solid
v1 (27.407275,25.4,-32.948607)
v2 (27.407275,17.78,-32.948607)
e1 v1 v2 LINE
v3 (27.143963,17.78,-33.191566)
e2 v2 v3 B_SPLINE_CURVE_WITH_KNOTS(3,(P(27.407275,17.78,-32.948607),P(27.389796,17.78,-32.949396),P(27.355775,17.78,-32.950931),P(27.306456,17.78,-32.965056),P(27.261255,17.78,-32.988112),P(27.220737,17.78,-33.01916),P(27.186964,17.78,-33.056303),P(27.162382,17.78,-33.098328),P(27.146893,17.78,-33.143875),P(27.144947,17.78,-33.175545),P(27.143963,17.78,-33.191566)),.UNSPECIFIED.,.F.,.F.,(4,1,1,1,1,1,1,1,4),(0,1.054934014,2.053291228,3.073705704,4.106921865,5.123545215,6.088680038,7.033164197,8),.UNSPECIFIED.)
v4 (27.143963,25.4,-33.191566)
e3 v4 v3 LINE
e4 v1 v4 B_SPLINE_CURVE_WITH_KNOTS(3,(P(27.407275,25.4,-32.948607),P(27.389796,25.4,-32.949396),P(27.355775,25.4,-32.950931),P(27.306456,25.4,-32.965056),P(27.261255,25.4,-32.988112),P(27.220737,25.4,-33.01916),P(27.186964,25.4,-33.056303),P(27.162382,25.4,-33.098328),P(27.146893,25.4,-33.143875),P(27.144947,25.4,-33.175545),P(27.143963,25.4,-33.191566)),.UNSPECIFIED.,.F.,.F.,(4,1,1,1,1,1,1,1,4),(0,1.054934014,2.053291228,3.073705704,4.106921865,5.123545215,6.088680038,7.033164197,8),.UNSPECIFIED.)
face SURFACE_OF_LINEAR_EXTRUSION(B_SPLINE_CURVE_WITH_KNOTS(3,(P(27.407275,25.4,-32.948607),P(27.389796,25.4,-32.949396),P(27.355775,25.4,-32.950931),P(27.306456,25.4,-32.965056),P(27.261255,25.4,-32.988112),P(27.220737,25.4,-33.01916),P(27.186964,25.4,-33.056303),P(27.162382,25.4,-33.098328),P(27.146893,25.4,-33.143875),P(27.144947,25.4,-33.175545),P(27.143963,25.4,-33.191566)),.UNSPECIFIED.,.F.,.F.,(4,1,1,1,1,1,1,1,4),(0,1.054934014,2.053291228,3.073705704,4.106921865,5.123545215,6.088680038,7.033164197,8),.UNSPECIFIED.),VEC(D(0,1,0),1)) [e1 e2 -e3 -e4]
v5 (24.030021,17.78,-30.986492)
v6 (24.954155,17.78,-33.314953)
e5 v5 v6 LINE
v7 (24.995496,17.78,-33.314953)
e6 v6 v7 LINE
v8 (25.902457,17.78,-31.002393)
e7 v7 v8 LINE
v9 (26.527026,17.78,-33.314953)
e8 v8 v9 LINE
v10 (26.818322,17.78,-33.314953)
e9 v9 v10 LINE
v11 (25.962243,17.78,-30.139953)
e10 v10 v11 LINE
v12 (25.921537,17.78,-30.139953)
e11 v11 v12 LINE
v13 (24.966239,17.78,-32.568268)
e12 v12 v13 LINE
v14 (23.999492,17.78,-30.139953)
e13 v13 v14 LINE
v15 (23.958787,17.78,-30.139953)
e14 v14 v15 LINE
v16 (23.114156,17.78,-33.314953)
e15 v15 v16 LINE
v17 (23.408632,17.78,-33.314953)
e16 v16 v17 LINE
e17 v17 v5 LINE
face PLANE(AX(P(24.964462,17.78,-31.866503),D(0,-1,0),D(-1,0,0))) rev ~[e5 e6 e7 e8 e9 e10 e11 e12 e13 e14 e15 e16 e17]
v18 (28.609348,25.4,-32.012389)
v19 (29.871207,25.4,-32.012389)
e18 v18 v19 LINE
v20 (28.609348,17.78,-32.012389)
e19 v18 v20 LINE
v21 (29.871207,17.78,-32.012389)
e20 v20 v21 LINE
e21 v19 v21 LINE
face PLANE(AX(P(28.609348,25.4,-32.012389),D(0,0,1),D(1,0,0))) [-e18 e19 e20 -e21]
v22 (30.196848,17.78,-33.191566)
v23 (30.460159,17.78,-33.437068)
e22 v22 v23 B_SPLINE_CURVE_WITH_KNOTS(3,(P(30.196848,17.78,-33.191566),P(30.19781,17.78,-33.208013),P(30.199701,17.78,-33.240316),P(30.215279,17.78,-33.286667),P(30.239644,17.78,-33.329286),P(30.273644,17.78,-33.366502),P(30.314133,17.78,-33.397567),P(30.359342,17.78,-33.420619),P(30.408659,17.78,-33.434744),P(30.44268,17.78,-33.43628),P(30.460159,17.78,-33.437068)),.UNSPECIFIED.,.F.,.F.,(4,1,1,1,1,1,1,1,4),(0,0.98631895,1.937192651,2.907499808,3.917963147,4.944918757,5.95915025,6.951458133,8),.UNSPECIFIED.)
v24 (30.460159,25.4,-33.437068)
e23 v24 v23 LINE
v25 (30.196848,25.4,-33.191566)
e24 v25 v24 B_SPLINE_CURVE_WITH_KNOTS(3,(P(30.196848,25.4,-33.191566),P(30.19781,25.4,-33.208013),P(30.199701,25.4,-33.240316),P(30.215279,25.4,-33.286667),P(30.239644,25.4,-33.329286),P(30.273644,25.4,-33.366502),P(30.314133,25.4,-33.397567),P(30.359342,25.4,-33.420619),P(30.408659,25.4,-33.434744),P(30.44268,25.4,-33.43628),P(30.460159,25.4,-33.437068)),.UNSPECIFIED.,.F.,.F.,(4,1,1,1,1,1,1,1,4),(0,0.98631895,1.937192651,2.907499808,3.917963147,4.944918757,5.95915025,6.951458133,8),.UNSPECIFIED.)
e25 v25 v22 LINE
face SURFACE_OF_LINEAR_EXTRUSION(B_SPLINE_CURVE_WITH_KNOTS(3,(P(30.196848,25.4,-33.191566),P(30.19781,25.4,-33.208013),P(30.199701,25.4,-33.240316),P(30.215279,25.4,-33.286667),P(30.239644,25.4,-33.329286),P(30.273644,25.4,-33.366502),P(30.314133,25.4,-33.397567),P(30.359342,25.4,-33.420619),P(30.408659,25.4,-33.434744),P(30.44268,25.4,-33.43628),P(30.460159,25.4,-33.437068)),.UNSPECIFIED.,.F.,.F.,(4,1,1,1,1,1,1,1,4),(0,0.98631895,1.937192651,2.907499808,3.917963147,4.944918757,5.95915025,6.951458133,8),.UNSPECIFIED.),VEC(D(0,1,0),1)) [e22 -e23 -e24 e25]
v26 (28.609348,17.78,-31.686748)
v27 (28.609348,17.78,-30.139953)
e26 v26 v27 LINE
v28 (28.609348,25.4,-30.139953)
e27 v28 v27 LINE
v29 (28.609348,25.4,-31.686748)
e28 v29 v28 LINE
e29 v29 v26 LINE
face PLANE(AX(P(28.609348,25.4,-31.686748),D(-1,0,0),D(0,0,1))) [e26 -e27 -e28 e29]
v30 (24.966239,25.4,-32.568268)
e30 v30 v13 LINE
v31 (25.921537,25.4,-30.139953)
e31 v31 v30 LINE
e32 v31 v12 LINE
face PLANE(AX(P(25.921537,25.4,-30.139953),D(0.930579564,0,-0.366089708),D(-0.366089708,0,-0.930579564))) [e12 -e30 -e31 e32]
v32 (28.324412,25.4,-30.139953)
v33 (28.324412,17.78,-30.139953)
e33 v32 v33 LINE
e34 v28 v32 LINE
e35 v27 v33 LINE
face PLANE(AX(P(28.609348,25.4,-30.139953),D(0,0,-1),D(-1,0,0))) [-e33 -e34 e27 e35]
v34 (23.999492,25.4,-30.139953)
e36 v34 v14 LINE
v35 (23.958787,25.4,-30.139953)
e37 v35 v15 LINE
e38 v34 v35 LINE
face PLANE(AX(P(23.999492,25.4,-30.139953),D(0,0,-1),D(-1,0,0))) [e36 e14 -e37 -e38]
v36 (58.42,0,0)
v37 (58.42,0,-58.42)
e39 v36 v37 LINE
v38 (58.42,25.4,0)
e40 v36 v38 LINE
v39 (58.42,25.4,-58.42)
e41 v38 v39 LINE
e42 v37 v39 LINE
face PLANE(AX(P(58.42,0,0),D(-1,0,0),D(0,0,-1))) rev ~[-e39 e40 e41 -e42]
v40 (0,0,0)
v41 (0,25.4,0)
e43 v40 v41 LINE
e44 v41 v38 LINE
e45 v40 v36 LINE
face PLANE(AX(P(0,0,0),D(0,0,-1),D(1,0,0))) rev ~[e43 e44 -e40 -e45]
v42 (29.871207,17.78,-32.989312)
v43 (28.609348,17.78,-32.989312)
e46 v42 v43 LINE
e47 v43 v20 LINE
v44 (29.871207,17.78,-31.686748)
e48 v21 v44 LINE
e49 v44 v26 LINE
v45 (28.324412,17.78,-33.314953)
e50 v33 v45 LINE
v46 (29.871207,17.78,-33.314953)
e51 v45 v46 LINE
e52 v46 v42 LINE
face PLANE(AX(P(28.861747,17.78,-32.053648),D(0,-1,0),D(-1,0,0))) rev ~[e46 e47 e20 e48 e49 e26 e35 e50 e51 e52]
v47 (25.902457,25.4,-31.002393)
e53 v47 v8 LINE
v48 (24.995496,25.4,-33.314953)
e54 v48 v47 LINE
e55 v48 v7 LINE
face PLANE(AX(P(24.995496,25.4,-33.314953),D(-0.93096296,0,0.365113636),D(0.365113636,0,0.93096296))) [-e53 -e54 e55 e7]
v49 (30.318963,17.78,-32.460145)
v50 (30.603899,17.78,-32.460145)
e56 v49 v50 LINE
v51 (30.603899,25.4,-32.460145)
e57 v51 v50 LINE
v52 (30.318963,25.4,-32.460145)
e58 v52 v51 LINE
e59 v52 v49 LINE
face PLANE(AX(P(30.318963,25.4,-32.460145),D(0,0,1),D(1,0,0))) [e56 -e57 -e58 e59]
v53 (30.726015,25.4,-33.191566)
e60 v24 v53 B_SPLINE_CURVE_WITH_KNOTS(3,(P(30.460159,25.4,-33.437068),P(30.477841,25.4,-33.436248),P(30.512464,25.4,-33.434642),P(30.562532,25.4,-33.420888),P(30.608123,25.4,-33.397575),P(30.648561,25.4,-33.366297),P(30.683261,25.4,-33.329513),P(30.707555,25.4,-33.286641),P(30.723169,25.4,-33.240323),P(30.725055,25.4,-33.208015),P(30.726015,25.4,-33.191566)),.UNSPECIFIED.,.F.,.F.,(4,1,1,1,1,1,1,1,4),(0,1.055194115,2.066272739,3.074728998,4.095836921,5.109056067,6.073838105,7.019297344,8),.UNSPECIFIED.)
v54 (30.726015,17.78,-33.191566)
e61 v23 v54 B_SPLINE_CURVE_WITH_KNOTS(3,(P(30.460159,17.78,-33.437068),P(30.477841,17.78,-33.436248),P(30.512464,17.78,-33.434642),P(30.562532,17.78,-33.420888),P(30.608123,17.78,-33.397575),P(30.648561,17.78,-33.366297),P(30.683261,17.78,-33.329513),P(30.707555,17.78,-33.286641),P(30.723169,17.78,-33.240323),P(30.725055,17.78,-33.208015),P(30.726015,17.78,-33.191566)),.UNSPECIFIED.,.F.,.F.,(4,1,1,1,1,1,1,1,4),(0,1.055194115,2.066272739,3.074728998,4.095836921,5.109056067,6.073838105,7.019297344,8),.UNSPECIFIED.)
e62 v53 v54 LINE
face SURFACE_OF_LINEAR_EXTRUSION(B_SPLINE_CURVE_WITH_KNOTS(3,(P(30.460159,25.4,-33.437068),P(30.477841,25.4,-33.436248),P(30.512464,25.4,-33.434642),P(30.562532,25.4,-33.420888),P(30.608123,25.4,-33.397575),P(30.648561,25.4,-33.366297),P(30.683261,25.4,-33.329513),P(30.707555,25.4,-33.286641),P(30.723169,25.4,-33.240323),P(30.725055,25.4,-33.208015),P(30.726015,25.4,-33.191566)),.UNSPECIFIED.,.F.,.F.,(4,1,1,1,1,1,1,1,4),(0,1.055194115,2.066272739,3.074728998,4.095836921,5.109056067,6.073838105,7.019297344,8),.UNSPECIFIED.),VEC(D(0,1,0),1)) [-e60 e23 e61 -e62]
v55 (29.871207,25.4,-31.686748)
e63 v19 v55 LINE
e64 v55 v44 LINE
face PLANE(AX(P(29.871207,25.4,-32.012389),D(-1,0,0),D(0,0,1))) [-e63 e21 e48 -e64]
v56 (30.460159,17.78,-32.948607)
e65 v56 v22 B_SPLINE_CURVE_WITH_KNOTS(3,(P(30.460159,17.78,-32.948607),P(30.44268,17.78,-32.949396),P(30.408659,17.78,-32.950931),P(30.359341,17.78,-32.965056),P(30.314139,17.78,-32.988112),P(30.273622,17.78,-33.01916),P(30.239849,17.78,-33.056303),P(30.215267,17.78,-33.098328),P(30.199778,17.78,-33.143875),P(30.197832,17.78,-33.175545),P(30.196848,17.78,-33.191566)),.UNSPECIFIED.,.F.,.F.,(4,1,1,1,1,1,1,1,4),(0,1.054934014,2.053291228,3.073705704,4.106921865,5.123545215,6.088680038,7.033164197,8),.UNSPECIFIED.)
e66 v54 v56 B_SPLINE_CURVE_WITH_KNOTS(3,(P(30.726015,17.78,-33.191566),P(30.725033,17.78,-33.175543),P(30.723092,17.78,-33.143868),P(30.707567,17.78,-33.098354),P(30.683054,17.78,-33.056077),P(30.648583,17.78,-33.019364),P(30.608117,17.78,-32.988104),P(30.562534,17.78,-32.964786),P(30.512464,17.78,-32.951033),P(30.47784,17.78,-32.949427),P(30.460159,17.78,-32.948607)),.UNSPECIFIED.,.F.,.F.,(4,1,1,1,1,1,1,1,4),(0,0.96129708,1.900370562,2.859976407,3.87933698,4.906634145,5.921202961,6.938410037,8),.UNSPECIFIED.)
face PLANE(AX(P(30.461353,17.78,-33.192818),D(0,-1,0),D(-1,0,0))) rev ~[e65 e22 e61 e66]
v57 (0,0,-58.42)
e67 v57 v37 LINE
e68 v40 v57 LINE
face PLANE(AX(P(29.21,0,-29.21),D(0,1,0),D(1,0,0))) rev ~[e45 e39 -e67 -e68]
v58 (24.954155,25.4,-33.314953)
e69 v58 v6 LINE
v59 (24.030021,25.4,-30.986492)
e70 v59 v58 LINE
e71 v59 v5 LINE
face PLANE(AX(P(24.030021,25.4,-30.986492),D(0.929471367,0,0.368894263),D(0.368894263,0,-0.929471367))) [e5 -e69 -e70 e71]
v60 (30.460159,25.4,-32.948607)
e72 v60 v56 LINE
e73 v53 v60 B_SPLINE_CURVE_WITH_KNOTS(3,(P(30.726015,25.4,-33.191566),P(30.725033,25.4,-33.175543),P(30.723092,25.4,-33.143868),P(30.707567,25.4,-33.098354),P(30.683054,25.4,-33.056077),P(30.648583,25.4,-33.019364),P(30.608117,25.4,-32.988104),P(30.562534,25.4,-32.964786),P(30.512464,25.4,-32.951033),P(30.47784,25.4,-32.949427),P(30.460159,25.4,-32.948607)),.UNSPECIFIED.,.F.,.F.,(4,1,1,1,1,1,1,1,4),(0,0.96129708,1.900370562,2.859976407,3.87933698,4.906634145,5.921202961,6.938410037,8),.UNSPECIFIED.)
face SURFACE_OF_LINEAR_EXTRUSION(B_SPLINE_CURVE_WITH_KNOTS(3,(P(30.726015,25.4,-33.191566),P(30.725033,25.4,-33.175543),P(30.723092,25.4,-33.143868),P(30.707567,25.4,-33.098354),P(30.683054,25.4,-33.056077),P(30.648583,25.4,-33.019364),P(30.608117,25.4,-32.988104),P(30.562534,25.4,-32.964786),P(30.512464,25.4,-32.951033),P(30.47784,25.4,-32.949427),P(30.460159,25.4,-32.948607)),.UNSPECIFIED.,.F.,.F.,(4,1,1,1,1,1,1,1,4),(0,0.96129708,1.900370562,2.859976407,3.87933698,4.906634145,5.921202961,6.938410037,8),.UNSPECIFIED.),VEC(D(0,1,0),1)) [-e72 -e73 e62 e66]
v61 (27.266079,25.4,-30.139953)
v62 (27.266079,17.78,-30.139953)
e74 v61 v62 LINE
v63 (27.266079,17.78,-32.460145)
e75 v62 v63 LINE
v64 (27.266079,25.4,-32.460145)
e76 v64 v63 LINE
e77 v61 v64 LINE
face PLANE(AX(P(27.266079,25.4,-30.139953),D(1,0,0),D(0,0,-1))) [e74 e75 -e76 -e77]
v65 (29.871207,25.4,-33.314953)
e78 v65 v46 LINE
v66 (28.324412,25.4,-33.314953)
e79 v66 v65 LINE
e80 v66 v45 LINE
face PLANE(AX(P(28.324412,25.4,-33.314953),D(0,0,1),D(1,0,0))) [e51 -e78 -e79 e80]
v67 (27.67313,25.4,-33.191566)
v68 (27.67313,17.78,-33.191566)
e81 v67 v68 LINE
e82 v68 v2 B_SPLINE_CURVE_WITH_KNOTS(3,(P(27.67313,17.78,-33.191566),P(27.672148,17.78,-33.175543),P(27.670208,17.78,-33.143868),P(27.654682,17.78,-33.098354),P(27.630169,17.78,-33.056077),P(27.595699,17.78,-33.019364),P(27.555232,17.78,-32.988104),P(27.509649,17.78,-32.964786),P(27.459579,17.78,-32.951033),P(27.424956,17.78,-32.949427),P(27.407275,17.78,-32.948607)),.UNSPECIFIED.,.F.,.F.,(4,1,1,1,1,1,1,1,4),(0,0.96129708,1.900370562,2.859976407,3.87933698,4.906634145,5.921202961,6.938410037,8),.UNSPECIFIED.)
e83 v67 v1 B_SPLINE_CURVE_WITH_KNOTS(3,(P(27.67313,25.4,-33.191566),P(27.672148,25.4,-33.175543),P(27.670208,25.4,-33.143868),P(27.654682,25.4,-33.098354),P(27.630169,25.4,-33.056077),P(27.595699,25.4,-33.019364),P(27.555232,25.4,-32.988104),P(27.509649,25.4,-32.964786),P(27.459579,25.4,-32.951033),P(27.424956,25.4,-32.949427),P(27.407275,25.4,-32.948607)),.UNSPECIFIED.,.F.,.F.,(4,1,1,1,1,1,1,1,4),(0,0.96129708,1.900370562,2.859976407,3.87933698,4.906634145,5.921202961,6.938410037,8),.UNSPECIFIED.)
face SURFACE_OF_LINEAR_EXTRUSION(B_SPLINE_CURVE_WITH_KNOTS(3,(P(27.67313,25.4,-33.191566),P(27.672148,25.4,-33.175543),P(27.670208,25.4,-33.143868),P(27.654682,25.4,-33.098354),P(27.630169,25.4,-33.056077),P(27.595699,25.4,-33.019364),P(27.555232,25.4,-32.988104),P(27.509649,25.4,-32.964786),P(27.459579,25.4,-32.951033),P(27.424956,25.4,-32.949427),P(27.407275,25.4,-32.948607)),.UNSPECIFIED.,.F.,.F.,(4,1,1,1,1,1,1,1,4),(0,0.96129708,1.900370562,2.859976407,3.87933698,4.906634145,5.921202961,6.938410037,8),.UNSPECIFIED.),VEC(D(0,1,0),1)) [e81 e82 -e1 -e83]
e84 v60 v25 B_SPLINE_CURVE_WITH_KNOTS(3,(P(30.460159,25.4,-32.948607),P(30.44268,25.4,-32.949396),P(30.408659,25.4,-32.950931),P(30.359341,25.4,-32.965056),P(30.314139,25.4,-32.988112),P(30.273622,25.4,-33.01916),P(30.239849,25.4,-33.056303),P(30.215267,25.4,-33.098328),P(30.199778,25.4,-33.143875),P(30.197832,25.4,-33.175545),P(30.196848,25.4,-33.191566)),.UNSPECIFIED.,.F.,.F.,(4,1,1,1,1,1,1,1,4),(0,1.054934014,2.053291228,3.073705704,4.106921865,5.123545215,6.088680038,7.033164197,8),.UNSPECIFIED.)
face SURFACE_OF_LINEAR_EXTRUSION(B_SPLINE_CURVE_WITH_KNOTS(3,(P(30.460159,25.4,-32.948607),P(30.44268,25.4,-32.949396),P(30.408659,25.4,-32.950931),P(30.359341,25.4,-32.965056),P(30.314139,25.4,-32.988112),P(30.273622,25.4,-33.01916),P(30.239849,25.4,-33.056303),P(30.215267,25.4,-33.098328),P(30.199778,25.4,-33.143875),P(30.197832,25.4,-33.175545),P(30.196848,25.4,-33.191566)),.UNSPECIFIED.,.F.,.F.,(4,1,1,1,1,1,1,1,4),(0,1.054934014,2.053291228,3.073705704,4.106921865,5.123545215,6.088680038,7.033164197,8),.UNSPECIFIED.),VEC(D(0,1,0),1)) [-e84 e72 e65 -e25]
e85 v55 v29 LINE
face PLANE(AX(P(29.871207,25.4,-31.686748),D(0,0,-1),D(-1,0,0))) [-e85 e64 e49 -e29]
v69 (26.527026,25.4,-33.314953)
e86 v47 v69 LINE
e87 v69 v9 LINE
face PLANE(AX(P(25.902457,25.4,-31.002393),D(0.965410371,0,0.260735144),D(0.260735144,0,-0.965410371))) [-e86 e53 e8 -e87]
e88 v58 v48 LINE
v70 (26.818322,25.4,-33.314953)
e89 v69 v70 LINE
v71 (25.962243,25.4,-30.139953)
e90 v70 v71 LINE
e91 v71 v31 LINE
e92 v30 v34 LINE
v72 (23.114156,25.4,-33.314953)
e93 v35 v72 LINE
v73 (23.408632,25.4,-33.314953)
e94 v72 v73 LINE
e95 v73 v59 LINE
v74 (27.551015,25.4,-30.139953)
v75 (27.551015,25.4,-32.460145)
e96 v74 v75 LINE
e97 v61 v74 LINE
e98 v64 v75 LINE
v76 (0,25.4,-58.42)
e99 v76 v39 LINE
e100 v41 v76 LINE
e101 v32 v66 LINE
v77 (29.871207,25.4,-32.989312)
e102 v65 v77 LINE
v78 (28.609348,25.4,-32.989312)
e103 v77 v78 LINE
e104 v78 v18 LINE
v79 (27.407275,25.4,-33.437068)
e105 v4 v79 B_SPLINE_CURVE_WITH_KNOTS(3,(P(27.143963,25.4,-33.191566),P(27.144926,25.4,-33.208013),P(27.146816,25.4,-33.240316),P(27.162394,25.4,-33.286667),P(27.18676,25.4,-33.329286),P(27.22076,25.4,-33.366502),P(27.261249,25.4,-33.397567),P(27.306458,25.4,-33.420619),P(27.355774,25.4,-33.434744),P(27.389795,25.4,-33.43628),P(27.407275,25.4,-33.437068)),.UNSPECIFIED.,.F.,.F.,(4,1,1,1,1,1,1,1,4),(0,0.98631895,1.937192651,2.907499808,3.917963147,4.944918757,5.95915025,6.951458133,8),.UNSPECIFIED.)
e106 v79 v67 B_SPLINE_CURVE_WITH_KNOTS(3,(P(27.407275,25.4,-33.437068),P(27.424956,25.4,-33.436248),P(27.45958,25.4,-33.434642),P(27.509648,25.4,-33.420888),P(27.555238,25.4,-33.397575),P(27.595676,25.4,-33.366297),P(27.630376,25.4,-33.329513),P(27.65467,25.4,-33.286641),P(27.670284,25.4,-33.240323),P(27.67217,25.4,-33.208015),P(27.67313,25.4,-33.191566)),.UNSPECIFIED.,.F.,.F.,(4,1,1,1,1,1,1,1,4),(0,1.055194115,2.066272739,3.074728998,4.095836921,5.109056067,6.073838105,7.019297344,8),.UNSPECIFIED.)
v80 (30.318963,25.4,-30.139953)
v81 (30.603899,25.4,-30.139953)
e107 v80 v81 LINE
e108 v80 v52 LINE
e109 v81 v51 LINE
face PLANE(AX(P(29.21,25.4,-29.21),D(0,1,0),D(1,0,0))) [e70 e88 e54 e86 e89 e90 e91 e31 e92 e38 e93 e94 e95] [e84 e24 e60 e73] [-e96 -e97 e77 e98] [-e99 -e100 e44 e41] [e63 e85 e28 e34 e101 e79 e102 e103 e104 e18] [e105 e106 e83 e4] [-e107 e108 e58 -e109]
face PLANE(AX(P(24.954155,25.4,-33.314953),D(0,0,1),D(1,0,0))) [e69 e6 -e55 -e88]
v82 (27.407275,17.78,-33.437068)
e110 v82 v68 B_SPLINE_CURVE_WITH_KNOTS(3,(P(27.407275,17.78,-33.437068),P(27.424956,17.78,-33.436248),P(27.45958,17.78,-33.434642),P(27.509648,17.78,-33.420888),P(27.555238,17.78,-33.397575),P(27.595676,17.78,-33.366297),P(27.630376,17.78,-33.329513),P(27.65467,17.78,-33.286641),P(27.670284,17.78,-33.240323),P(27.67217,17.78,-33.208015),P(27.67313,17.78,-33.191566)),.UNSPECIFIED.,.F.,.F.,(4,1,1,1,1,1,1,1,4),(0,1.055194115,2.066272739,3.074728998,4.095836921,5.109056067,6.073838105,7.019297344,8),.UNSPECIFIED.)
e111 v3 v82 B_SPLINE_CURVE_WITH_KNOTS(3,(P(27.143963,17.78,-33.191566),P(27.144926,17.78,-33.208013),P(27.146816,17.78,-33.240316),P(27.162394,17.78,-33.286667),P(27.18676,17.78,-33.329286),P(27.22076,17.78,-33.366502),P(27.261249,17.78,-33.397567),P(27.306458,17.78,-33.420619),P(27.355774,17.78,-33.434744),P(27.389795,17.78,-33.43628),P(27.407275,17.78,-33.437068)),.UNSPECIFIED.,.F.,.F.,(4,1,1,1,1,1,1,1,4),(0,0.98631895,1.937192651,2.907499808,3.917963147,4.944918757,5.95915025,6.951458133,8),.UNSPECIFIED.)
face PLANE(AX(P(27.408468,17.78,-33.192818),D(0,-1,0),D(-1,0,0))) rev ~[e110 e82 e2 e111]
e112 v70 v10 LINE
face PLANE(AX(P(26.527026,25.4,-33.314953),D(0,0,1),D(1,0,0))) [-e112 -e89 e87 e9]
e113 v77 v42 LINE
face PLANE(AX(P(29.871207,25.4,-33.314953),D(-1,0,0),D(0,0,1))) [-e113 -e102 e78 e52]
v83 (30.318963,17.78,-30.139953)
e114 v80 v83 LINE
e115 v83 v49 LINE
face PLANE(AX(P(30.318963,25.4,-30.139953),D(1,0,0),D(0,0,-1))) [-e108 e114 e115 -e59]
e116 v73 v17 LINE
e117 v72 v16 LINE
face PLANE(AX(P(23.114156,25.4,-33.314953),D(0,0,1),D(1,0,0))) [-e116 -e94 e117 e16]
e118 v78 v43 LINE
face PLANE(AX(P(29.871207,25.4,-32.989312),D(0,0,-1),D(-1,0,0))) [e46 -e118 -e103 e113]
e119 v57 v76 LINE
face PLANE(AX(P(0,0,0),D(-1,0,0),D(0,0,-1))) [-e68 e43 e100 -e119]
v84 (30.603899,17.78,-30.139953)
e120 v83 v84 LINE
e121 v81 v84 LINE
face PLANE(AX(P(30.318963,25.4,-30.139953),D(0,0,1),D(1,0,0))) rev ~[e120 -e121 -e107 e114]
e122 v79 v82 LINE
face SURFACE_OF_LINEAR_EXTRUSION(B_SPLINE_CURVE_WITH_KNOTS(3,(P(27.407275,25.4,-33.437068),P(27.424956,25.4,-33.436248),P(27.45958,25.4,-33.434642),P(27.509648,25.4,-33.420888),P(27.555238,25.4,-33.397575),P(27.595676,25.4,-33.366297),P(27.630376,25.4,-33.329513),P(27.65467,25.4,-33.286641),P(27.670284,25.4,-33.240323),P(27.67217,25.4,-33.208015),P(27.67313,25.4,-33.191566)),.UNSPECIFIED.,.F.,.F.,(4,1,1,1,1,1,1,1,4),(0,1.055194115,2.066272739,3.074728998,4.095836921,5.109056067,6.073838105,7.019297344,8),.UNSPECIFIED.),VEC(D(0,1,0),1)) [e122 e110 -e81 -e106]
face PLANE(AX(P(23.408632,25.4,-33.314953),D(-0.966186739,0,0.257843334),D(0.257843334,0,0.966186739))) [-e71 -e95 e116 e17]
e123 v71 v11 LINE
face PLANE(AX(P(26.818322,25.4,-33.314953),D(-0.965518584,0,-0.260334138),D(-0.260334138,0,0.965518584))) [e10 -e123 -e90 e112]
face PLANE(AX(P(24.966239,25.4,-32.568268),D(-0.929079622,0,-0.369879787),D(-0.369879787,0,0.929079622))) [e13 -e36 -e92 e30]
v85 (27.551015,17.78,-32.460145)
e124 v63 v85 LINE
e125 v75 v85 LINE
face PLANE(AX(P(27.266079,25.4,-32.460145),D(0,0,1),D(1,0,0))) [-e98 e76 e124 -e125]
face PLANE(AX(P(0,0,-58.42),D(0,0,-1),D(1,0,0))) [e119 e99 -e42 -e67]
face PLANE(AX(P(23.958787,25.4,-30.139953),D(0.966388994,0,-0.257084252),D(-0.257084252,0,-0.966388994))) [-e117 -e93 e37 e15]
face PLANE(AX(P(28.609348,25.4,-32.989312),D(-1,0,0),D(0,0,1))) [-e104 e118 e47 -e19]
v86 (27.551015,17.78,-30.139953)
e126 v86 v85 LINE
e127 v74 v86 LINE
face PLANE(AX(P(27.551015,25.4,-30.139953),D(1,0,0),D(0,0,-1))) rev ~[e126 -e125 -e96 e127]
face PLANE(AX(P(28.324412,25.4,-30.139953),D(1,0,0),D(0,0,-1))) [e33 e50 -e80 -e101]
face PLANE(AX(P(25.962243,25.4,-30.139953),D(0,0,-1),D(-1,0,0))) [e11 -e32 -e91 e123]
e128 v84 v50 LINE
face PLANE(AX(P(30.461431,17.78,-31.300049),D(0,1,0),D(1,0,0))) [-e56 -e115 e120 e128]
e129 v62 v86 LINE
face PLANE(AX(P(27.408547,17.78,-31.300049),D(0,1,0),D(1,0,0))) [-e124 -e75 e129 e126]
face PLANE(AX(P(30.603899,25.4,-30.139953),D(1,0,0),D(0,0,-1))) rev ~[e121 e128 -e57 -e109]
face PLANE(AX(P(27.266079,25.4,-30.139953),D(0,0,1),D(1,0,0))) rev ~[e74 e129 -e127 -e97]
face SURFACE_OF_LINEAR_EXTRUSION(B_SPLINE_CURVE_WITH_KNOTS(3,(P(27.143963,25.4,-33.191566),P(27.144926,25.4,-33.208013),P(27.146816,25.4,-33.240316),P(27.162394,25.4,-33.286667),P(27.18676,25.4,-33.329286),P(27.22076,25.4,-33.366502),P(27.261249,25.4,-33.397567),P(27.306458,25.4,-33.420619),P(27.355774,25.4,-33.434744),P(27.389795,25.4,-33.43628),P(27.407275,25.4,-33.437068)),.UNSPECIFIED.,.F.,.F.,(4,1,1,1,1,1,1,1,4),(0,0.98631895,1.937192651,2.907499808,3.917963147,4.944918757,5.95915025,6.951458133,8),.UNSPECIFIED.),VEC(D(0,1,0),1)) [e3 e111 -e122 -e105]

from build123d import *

# Parameters (mm, degrees)
SKETCH1_W           = 58.42
SKETCH1_H           = 58.42
BOSS_EXTRUDE1_DEPTH = 25.4
SKETCH2_W           = 0.284935898
SKETCH2_H           = 2.320192308
SKETCH2_W_2         = 0.284935897
CUT_EXTRUDE1_DEPTH  = 7.62


with BuildPart() as part:
    # Sketch1 → Boss-Extrude1 (new body)
    with BuildSketch(Plane(origin=(0, 0, 0), x_dir=(1, 0, 0), z_dir=(0, 1, 0))):
        with Locations((29.21, 29.21)):
            Rectangle(SKETCH1_W, SKETCH1_H)
    extrude(amount=BOSS_EXTRUDE1_DEPTH)

    # Sketch2 → Cut-Extrude1 (cut)
    with BuildSketch(Plane(origin=(0, 25.4, 0), x_dir=(1, 0, 0), z_dir=(0, 1, 0))):
        Polygon((23.114155591, 33.314953012), (23.408631753, 33.314953012), (24.030020976, 30.986492475), (24.95415459, 33.314953012), (24.995495735, 33.314953012), (25.902456873, 31.002392916), (26.527026184, 33.314953012), (26.818322258, 33.314953012), (25.96224253, 30.139953012), (25.921537402, 30.139953012), (24.966238925, 32.568268317), (23.99949213, 30.139953012), (23.958787001, 30.139953012), align=None)
        with BuildLine():
            add(Edge.make_bspline(
                [(27.407274582, 33.437068397), (27.42495599, 33.436248201), (27.459579582, 33.434642101), (27.509647761, 33.420888476), (27.55523805, 33.39757519), (27.595676422, 33.366297193), (27.630376348, 33.329513055), (27.654670278, 33.286640605), (27.67028438, 33.240323126), (27.672169927, 33.208015152), (27.67312995, 33.191565592)],
                knots=[0, 0, 0, 0, 1.055194115, 2.066272739, 3.074728998, 4.095836921, 5.109056067, 6.073838105, 7.019297344, 8, 8, 8, 8], degree=3))
            add(Edge.make_bspline(
                [(27.67312995, 33.191565592), (27.672148277, 33.175543043), (27.670207624, 33.143868358), (27.654682338, 33.098353851), (27.630169308, 33.056077108), (27.595698673, 33.019364393), (27.555232154, 32.988103687), (27.509649327, 32.964785817), (27.45957917, 32.951033407), (27.42495585, 32.949427139), (27.407274582, 32.948606858)],
                knots=[0, 0, 0, 0, 0.96129708, 1.900370562, 2.859976407, 3.87933698, 4.906634145, 5.921202961, 6.938410037, 8, 8, 8, 8], degree=3))
            add(Edge.make_bspline(
                [(27.407274582, 32.948606858), (27.389795503, 32.949395819), (27.355774761, 32.950931427), (27.306456269, 32.965055658), (27.26125471, 32.988111667), (27.220737472, 33.019159706), (27.186964368, 33.056302577), (27.162382316, 33.098328051), (27.146892886, 33.143874927), (27.144947401, 33.175545249), (27.143963284, 33.191565592)],
                knots=[0, 0, 0, 0, 1.054934014, 2.053291228, 3.073705704, 4.106921865, 5.123545215, 6.088680038, 7.033164197, 8, 8, 8, 8], degree=3))
            add(Edge.make_bspline(
                [(27.143963284, 33.191565592), (27.144925841, 33.208012863), (27.146816364, 33.24031634), (27.162393926, 33.286666835), (27.186759609, 33.329285768), (27.220759834, 33.366501757), (27.261248759, 33.397567259), (27.306457806, 33.420618649), (27.355774355, 33.434744078), (27.389795366, 33.436279521), (27.407274582, 33.437068397)],
                knots=[0, 0, 0, 0, 0.98631895, 1.937192651, 2.907499808, 3.917963147, 4.944918757, 5.95915025, 6.951458133, 8, 8, 8, 8], degree=3))
        make_face()
        with Locations((27.408546617, 31.300049166)):
            Rectangle(SKETCH2_W, SKETCH2_H)
        Polygon((28.324412001, 33.314953012), (29.871206873, 33.314953012), (29.871206873, 32.989311986), (28.609347899, 32.989311986), (28.609347899, 32.01238891), (29.871206873, 32.01238891), (29.871206873, 31.686747884), (28.609347899, 31.686747884), (28.609347899, 30.139953012), (28.324412001, 30.139953012), align=None)
        with BuildLine():
            add(Edge.make_bspline(
                [(30.460159197, 33.437068397), (30.477840605, 33.436248201), (30.512464197, 33.434642101), (30.562532376, 33.420888476), (30.608122666, 33.39757519), (30.648561038, 33.366297193), (30.683260963, 33.329513055), (30.707554893, 33.286640605), (30.723168996, 33.240323126), (30.725054542, 33.208015152), (30.726014566, 33.191565592)],
                knots=[0, 0, 0, 0, 1.055194115, 2.066272739, 3.074728998, 4.095836921, 5.109056067, 6.073838105, 7.019297344, 8, 8, 8, 8], degree=3))
            add(Edge.make_bspline(
                [(30.726014566, 33.191565592), (30.725032892, 33.175543043), (30.72309224, 33.143868358), (30.707566954, 33.098353851), (30.683053924, 33.056077108), (30.648583288, 33.019364393), (30.608116769, 32.988103687), (30.562533942, 32.964785817), (30.512463785, 32.951033407), (30.477840466, 32.949427139), (30.460159197, 32.948606858)],
                knots=[0, 0, 0, 0, 0.96129708, 1.900370562, 2.859976407, 3.87933698, 4.906634145, 5.921202961, 6.938410037, 8, 8, 8, 8], degree=3))
            add(Edge.make_bspline(
                [(30.460159197, 32.948606858), (30.442680119, 32.949395819), (30.408659377, 32.950931427), (30.359340884, 32.965055658), (30.314139326, 32.988111667), (30.273622087, 33.019159706), (30.239848983, 33.056302577), (30.215266931, 33.098328051), (30.199777501, 33.143874927), (30.197832017, 33.175545249), (30.196847899, 33.191565592)],
                knots=[0, 0, 0, 0, 1.054934014, 2.053291228, 3.073705704, 4.106921865, 5.123545215, 6.088680038, 7.033164197, 8, 8, 8, 8], degree=3))
            add(Edge.make_bspline(
                [(30.196847899, 33.191565592), (30.197810456, 33.208012863), (30.199700979, 33.24031634), (30.215278542, 33.286666835), (30.239644224, 33.329285768), (30.27364445, 33.366501757), (30.314133374, 33.397567259), (30.359342422, 33.420618649), (30.408658971, 33.434744078), (30.442679981, 33.436279521), (30.460159197, 33.437068397)],
                knots=[0, 0, 0, 0, 0.98631895, 1.937192651, 2.907499808, 3.917963147, 4.944918757, 5.95915025, 6.951458133, 8, 8, 8, 8], degree=3))
        make_face()
        with Locations((30.461431233, 31.300049166)):
            Rectangle(SKETCH2_W_2, SKETCH2_H)
    extrude(amount=-CUT_EXTRUDE1_DEPTH, mode=Mode.SUBTRACT)


solid = part.part
